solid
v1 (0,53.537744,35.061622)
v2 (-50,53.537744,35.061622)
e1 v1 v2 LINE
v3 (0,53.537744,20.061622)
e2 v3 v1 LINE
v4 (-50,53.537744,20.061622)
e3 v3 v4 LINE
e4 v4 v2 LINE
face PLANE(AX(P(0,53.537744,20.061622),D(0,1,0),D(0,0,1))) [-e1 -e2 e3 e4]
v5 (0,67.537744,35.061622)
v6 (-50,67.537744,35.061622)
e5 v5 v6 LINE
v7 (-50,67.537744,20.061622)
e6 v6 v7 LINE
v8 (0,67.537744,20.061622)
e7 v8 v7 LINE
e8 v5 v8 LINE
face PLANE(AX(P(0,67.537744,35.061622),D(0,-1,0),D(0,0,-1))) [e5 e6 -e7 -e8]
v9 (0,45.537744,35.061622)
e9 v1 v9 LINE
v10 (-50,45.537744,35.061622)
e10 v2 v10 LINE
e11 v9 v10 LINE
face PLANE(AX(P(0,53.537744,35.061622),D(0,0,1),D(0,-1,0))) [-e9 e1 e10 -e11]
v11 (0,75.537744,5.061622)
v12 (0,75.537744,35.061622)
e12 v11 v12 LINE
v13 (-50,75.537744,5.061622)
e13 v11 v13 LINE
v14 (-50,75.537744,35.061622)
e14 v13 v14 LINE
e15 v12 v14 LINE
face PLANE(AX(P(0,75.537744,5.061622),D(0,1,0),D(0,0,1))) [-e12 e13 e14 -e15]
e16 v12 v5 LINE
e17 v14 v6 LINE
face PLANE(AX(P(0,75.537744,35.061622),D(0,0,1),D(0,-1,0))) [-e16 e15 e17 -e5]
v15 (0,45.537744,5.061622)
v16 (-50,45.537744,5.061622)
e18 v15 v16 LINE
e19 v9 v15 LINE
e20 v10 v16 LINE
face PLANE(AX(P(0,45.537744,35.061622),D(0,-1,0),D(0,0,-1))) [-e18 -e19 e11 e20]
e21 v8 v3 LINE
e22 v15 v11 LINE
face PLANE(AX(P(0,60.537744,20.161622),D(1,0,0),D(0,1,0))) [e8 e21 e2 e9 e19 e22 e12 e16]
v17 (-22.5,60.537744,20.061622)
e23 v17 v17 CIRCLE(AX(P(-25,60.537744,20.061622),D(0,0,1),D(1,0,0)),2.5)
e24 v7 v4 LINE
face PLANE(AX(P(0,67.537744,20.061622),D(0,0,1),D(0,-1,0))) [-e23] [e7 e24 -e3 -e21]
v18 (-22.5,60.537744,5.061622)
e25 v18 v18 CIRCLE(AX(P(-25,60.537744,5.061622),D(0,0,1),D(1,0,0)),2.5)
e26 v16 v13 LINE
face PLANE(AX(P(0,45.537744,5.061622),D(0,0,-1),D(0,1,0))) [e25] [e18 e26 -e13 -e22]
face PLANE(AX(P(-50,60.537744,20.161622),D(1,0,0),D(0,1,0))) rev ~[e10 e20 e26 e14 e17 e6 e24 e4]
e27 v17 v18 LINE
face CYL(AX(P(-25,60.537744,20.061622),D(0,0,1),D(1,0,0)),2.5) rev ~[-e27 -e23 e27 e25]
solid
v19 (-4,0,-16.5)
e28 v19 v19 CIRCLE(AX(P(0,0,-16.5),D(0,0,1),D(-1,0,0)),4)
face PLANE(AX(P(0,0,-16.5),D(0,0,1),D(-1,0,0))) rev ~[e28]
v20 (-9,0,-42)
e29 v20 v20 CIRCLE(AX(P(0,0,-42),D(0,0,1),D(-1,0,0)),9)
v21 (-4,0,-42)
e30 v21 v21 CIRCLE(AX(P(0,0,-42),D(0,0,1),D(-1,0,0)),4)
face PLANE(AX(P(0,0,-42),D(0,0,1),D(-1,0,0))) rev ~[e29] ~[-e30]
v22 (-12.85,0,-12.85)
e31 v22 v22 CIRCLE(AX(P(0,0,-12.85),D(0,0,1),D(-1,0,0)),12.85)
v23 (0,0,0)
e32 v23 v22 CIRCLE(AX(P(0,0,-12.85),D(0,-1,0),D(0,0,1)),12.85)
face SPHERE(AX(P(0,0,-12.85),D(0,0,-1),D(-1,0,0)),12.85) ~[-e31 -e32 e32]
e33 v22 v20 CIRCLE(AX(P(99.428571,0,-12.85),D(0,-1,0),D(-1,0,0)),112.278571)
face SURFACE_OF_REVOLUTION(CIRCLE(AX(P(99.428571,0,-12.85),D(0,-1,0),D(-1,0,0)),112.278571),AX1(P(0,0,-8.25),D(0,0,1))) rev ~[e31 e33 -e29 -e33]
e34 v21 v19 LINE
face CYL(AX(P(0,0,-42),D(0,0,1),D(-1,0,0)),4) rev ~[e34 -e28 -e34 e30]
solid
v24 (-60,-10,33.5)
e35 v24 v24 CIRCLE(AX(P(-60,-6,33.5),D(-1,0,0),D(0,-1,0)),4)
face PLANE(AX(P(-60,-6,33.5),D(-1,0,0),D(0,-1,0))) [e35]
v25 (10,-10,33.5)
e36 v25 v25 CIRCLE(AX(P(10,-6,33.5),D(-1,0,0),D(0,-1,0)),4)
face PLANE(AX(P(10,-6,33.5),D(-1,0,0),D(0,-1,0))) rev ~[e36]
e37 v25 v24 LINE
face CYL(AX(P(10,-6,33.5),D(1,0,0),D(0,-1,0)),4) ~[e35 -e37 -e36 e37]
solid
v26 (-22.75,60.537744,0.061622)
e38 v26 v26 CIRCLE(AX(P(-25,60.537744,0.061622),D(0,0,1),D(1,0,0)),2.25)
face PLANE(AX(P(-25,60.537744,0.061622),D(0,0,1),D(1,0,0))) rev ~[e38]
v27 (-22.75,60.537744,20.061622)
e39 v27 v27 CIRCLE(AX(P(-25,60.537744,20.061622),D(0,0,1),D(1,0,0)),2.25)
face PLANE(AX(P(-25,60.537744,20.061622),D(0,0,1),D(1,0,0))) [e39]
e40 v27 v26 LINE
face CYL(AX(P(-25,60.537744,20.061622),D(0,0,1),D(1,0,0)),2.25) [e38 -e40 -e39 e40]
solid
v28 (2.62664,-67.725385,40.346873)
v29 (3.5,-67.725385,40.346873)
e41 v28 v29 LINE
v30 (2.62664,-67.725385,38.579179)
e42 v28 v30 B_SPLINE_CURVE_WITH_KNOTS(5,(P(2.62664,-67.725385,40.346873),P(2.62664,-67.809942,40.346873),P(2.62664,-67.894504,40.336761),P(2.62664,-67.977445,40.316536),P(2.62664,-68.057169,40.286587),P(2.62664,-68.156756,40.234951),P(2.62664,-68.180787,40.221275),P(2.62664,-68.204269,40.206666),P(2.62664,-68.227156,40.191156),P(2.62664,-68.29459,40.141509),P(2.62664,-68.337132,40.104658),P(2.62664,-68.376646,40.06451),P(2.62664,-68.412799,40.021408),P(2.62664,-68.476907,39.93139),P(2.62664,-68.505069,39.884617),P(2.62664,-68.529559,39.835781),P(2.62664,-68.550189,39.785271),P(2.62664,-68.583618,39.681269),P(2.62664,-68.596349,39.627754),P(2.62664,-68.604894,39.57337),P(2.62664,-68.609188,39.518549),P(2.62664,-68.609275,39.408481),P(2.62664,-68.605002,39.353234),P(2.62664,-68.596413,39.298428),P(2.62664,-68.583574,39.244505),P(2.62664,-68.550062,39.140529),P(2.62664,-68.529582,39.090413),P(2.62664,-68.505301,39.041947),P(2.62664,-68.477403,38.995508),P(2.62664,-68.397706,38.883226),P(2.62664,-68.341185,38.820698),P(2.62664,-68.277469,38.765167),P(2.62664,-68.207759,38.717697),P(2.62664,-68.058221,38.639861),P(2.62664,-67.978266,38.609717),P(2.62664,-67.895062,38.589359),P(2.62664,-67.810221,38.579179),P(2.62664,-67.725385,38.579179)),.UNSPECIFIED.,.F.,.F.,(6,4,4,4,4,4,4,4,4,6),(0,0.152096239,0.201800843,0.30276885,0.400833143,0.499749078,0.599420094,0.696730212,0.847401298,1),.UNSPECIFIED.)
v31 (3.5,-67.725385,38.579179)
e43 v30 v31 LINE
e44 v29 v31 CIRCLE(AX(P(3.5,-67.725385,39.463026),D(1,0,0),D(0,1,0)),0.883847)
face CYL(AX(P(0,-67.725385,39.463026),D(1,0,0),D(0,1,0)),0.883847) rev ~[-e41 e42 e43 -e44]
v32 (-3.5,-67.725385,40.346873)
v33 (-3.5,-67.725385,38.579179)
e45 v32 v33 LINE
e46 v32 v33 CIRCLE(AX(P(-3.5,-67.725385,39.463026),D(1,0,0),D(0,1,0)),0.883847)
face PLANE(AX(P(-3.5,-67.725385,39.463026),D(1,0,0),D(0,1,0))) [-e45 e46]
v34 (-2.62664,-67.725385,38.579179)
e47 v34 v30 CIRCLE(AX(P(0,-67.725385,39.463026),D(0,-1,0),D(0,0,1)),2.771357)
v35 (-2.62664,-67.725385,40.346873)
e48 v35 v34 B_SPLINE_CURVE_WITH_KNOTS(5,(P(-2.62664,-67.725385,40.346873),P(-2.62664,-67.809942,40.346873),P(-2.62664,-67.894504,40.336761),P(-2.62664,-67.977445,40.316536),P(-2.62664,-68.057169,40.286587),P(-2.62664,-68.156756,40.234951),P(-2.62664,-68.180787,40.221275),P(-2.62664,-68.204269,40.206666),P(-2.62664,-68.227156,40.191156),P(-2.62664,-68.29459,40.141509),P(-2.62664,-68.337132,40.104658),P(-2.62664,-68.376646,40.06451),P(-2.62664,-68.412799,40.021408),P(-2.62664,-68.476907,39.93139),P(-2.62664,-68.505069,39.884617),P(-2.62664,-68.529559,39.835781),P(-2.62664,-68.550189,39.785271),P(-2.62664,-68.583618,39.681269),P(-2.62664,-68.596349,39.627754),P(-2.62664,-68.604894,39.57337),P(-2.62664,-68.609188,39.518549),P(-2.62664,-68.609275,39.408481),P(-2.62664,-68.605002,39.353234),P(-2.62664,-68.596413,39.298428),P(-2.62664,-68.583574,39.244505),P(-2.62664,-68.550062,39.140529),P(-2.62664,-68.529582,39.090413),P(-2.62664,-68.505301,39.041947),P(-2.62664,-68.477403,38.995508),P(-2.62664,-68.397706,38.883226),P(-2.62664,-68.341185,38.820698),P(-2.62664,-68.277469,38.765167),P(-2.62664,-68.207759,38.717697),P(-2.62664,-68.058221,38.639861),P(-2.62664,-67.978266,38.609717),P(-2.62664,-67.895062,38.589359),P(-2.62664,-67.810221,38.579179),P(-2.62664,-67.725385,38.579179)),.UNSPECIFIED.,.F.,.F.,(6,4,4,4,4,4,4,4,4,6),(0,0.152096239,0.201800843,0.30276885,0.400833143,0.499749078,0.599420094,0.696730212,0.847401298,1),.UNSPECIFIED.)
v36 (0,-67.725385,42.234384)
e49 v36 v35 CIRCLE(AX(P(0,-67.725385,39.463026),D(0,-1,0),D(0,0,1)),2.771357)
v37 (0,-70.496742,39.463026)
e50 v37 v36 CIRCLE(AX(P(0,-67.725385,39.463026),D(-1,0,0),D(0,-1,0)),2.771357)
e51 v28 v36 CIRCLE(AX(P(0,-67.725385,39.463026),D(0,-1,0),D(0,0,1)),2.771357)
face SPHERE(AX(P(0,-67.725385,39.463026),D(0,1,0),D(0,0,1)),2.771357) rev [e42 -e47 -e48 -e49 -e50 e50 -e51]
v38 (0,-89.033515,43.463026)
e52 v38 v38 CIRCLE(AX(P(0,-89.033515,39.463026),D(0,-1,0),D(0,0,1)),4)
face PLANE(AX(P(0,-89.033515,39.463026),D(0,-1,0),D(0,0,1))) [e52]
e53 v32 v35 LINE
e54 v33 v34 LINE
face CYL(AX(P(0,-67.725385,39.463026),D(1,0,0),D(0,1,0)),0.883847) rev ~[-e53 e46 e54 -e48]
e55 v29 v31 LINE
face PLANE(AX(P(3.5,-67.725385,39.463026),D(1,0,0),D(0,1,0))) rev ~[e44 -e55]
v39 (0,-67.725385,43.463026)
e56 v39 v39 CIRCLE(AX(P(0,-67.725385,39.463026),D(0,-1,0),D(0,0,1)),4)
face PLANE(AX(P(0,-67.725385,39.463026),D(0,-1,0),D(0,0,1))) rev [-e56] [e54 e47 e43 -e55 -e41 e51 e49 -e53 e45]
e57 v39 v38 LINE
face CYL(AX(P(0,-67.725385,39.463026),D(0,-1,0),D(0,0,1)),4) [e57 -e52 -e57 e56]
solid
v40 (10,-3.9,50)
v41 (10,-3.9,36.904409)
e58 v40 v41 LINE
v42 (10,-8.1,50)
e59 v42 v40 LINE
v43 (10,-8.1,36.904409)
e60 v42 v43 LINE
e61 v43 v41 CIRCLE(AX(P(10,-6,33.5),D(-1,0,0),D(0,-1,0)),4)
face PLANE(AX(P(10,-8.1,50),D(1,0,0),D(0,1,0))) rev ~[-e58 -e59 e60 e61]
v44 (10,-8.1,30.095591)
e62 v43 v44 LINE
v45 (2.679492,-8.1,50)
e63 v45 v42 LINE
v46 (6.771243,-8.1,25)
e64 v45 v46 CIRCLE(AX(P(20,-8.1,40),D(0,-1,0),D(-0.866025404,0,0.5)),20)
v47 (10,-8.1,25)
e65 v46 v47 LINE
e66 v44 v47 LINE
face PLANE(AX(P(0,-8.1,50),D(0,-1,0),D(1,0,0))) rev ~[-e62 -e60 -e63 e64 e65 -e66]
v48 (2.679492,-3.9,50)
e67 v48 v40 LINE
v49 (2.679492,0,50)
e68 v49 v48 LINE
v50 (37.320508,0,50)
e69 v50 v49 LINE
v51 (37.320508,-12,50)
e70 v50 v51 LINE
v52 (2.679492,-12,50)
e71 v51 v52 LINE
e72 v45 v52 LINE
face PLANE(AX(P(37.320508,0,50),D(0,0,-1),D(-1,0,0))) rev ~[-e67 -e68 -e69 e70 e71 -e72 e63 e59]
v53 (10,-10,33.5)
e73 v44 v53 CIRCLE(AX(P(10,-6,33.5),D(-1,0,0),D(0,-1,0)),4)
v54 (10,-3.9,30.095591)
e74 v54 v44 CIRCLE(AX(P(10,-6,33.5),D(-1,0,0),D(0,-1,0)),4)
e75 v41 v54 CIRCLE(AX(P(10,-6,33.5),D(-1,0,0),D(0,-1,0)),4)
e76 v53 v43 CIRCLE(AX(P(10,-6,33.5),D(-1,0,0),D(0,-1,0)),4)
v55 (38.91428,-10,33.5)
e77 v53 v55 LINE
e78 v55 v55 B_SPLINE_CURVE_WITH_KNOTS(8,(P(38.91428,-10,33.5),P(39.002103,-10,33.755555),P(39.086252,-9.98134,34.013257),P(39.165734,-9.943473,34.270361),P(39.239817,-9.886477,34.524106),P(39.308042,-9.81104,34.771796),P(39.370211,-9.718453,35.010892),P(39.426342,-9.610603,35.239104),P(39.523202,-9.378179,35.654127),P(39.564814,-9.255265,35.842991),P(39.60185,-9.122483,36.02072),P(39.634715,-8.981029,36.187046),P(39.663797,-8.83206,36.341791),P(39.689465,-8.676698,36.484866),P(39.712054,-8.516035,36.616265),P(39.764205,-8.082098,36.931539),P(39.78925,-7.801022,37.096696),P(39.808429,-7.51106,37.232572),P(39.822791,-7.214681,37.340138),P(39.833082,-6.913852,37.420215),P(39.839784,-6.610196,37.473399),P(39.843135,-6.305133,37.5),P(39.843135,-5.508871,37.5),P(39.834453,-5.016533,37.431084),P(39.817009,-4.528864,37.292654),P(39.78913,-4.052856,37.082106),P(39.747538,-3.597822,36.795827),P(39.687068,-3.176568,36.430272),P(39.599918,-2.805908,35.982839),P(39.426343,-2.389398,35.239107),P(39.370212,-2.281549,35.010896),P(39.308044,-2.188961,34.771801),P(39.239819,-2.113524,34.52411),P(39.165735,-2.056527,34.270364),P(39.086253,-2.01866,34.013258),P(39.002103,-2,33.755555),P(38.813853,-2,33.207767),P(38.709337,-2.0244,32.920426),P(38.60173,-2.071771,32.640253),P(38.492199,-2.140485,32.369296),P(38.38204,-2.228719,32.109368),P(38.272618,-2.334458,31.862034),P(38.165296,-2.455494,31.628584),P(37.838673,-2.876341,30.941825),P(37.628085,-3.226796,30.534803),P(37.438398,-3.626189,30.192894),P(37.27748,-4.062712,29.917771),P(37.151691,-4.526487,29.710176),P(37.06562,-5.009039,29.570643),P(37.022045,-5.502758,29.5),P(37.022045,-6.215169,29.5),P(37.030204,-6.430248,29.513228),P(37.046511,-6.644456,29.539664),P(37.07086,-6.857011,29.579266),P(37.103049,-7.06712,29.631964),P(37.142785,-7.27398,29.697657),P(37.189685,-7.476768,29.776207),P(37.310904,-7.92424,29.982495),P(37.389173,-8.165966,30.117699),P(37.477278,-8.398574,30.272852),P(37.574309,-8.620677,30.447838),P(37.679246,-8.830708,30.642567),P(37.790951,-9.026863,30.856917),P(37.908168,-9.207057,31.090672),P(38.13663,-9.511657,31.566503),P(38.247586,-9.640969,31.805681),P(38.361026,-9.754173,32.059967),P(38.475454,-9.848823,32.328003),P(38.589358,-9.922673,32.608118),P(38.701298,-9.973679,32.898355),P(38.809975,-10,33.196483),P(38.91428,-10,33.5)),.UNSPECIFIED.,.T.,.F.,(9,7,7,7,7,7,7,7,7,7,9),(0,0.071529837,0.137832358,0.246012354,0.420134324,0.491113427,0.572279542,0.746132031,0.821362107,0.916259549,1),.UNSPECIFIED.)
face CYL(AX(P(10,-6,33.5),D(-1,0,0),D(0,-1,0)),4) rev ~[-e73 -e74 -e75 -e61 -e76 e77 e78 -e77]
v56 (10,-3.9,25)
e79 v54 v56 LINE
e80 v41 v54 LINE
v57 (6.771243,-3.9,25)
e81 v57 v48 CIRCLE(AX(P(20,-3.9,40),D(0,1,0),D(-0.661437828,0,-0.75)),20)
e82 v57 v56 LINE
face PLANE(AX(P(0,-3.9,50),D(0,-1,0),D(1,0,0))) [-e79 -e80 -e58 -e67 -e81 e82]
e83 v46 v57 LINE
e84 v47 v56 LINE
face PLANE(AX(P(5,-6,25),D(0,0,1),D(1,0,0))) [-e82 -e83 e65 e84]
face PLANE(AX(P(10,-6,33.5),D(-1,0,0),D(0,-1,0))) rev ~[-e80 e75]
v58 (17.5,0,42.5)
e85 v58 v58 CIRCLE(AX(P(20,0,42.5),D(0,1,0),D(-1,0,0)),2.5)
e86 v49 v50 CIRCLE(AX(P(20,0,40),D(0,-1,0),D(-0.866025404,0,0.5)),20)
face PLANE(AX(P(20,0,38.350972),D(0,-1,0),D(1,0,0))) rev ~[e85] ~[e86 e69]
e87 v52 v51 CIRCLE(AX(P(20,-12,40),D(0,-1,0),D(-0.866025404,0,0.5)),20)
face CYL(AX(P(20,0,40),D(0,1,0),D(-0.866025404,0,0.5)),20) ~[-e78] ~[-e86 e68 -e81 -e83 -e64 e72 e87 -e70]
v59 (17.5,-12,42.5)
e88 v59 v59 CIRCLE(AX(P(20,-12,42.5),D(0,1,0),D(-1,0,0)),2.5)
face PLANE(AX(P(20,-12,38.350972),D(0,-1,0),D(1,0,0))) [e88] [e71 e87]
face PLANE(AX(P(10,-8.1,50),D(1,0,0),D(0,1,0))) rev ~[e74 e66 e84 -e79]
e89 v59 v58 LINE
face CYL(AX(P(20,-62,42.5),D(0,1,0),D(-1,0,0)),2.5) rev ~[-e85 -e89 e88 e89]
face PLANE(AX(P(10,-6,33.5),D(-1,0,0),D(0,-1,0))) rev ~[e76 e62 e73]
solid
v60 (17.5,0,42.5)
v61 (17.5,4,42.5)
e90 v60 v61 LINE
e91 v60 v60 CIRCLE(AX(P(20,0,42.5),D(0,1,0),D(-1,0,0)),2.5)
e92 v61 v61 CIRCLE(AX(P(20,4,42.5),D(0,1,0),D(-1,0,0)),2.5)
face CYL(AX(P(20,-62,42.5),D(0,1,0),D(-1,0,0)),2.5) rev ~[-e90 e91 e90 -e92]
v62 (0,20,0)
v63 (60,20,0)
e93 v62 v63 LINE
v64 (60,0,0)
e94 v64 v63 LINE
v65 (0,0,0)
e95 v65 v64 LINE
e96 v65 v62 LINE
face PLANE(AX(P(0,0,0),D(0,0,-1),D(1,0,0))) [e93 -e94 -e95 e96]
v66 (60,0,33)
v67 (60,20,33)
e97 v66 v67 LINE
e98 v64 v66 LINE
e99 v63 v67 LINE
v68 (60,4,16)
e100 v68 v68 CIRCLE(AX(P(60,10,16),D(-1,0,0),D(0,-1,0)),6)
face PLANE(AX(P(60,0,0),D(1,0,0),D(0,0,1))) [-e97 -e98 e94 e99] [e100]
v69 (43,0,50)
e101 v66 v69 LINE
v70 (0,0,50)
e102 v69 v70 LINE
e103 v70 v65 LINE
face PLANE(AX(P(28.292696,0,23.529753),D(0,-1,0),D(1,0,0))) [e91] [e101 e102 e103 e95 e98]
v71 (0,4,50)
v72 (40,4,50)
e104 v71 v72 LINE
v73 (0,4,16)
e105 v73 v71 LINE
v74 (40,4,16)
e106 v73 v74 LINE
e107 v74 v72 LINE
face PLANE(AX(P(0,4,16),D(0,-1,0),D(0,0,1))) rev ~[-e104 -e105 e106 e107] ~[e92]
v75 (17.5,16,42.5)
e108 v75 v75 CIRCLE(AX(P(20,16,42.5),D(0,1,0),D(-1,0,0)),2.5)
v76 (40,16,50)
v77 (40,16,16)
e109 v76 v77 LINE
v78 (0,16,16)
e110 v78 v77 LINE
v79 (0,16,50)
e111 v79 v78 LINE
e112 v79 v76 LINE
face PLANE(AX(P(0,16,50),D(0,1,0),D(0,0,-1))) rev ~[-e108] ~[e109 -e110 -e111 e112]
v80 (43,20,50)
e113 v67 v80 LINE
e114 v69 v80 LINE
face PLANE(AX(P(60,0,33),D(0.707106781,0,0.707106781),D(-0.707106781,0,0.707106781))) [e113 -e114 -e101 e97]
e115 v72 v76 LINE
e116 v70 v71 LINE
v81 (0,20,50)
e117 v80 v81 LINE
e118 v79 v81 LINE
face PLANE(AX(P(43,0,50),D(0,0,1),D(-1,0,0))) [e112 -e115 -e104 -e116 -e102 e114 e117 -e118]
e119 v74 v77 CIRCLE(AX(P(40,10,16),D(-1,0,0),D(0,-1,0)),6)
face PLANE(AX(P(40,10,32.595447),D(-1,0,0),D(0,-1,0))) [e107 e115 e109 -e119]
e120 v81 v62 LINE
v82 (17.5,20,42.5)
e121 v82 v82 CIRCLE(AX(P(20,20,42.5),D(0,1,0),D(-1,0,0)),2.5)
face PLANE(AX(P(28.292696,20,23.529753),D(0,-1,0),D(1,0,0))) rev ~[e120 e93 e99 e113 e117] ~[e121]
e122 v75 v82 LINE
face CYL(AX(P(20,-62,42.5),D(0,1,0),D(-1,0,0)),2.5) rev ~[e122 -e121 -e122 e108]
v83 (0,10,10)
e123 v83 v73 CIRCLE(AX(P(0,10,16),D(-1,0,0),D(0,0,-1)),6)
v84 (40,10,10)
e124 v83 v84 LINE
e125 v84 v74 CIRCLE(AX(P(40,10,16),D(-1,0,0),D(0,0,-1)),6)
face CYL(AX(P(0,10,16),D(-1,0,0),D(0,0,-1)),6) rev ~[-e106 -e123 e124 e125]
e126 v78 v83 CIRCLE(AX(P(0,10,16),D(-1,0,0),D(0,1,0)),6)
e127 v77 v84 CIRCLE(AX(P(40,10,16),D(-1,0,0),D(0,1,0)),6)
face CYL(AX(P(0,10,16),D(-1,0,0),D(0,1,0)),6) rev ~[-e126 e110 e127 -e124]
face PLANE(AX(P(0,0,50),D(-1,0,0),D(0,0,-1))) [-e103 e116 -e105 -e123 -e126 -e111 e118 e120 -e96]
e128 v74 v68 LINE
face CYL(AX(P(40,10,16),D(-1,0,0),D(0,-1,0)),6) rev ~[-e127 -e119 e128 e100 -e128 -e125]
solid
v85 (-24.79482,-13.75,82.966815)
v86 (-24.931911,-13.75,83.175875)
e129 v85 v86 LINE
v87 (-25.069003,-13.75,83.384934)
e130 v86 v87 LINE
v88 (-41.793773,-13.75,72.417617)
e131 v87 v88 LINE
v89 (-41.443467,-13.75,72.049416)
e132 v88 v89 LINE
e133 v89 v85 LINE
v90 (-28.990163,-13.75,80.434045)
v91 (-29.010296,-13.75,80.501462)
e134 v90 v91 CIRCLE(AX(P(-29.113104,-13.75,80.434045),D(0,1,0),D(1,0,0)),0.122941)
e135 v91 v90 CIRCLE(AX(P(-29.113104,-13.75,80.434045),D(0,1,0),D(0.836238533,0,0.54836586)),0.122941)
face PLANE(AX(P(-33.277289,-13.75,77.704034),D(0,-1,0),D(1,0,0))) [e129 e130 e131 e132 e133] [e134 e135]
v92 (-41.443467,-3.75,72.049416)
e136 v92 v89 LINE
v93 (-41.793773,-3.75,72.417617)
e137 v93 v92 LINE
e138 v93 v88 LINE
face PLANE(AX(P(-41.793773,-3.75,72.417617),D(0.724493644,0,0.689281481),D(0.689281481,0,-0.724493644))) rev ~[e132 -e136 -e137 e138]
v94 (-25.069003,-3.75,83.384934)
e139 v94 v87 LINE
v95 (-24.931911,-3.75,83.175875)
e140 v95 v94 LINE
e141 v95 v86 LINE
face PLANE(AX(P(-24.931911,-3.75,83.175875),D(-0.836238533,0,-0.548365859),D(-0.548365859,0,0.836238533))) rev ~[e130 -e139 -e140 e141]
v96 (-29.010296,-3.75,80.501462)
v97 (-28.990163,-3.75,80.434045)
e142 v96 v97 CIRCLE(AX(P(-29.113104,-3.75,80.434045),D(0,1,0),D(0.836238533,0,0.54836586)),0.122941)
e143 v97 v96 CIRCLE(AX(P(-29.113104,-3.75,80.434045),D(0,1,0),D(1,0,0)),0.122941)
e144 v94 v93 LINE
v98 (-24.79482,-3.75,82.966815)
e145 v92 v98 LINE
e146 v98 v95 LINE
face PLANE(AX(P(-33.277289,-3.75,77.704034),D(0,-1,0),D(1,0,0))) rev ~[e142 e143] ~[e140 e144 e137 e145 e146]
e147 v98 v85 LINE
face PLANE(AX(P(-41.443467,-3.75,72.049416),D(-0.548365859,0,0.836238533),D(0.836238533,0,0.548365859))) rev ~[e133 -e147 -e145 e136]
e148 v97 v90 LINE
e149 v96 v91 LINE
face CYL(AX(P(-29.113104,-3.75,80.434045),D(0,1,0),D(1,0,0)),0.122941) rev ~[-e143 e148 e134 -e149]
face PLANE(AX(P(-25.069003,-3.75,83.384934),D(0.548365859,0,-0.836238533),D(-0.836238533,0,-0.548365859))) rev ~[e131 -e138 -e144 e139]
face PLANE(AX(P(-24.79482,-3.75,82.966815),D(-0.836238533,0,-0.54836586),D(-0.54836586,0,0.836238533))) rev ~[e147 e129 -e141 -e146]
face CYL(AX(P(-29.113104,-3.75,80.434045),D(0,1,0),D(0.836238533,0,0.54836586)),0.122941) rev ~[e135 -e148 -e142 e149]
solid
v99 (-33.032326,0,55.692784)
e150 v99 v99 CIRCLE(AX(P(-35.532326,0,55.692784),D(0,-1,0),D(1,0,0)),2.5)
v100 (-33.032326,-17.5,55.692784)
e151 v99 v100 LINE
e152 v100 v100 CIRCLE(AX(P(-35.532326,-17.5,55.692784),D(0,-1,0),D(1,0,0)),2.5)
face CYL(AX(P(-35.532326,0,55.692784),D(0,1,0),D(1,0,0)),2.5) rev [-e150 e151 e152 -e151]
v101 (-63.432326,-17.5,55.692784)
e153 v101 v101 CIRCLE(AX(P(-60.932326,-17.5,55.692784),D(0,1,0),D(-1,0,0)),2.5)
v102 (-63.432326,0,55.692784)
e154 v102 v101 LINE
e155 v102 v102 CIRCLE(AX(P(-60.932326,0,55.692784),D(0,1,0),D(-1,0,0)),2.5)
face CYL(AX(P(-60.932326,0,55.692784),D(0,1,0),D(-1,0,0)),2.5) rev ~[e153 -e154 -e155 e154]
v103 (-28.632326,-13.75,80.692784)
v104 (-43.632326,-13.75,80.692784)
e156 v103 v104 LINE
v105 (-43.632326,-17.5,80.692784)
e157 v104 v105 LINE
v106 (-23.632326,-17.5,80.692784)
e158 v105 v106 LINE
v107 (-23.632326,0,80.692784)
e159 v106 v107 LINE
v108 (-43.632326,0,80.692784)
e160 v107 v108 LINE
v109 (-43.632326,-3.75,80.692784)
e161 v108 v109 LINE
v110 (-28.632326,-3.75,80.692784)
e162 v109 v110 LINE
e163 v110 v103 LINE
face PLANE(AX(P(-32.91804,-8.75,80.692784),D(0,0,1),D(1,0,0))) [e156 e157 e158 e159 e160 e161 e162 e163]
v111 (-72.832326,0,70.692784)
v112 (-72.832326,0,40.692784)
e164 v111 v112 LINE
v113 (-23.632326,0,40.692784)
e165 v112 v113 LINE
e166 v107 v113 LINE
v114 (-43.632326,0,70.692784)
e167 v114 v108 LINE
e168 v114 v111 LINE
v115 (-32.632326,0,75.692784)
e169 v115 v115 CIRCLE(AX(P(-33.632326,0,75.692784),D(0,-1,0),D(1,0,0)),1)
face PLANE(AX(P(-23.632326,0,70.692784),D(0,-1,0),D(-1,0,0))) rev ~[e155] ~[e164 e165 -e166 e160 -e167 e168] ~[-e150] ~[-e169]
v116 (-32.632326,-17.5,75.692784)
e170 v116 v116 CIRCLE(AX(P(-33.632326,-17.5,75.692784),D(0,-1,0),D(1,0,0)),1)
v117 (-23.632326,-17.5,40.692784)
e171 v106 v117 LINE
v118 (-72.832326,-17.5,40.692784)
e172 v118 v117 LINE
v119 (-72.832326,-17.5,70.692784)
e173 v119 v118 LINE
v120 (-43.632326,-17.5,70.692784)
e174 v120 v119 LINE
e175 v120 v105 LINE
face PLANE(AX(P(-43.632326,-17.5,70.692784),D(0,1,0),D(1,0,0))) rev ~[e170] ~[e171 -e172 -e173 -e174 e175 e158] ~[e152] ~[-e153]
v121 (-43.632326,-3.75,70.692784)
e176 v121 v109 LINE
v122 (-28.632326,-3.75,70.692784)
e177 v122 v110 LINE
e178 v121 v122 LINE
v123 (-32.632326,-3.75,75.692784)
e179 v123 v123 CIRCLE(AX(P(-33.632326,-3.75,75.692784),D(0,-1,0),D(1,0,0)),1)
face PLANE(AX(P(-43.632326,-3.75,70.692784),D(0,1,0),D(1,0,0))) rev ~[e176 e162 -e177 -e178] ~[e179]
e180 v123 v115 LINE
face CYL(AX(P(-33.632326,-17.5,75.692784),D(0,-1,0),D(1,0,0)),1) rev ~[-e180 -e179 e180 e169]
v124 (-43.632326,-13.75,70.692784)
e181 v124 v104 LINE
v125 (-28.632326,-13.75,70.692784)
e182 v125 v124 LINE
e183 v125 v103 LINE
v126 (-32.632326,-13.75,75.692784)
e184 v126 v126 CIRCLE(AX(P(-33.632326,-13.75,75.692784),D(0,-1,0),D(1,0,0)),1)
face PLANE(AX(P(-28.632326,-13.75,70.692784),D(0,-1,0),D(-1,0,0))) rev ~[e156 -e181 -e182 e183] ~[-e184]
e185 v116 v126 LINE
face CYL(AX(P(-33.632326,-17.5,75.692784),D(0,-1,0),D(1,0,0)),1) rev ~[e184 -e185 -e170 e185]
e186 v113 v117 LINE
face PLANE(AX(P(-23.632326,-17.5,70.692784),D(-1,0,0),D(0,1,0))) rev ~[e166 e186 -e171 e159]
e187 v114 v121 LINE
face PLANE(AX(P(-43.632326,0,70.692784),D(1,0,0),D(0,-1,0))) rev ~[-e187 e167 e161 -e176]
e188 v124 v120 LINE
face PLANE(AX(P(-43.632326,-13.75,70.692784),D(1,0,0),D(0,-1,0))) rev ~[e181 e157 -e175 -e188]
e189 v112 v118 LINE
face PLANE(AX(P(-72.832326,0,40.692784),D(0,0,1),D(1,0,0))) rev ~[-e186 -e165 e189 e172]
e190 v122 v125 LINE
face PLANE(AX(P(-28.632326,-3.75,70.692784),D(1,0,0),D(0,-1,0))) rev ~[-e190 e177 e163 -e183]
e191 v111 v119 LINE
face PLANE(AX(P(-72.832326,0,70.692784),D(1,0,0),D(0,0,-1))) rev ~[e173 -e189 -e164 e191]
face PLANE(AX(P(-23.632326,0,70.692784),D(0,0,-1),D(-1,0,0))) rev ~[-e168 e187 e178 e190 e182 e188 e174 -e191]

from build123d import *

# Parameters (mm, degrees)
F1_DEPTH   = 20
F3_DEPTH   = 40
F5_DEPTH   = 25
F7_DEPTH   = 12
F9_D       = 5
F9_DEPTH   = 50
F9_TIP     = 1.5021515476
F9_2_D     = 5
F9_2_DEPTH = 50
F9_2_TIP   = 1.5021515476
F10_W      = 10
F10_H      = 4.2
F11_DEPTH  = 25
F12_R      = 4
F13_DEPTH  = 30
F14_R      = 4
F15_DEPTH  = 70
F18_R      = 2.5
F19_DEPTH  = 17.5
F21_DEPTH  = 10
F22_R      = 1
F23_DEPTH  = 25
F25_DEPTH  = 10
F28_R      = 0.8838468807
F29_DEPTH  = 3.5
F31_DEPTH  = 50
F32_R      = 2.5
F33_DEPTH  = 25
F34_R      = 2.25
F35_DEPTH  = 20


with BuildPart() as f1:
    # F0 (on Front) → F1 (new body)
    with BuildSketch(Plane.XZ):
        Polygon((0, 50), (0, 0), (60, 0), (60, 33), (43, 50), align=None)
    extrude(amount=-F1_DEPTH)

    # F2 (on face) → F3 (cut)
    with BuildSketch(Plane(origin=(0, 0, 0), x_dir=(0, -1, 0), z_dir=(-1, 0, 0))):
        with BuildLine():
            Line((-4, 50), (-16, 50))
            Line((-16, 50), (-16, 16))
            ThreePointArc((-16, 16), (-10, 22), (-4, 16))
            Line((-4, 16), (-4, 50))
        make_face()
        with BuildLine():
            ThreePointArc((-4, 16), (-10, 22), (-16, 16))
            Line((-16, 16), (-10, 16))
            Line((-10, 16), (-4, 16))
        make_face()
        with BuildLine():
            Line((-10, 16), (-16, 16))
            ThreePointArc((-16, 16), (-14.2426406871, 11.7573593129), (-10, 10))
            Line((-10, 10), (-10, 16))
        make_face()
        with BuildLine():
            ThreePointArc((-10, 10), (-5.7573593129, 11.7573593129), (-4, 16))
            Line((-4, 16), (-10, 16))
            Line((-10, 16), (-10, 10))
        make_face()
    extrude(amount=-F3_DEPTH, mode=Mode.SUBTRACT)

    # F4 (on face) → F5 (cut)
    with BuildSketch(Plane(origin=(40, 0, 0), x_dir=(0, -1, 0), z_dir=(-1, 0, 0))):
        with BuildLine():
            ThreePointArc((-16, 16), (-10, 10), (-4, 16))
            ThreePointArc((-4, 16), (-10, 22), (-16, 16))
        make_face()
    extrude(amount=-F5_DEPTH, mode=Mode.SUBTRACT)

    # F9
    with Locations(Plane.XZ.offset(12)):
        with Locations((20, 42.5)):
            Hole(F9_D / 2, depth=F9_DEPTH)
            with Locations((0, 0, -(F9_DEPTH + F9_TIP / 2))):  # 118° drill point
                Cone(0, F9_D / 2, F9_TIP, mode=Mode.SUBTRACT)


with BuildPart() as f7:
    # F6 (on Front) → F7 (new body)
    with BuildSketch(Plane.XZ):
        with BuildLine():
            Line((37.3205080757, 50), (2.6794919243, 50))
            ThreePointArc((2.6794919243, 50), (20, 20), (37.3205080757, 50))
        make_face()
    extrude(amount=F7_DEPTH)

    # F9#2
    with Locations(Plane.XZ.offset(12)):
        with Locations((20, 42.5)):
            Hole(F9_2_D / 2, depth=F9_2_DEPTH)
            with Locations((0, 0, -(F9_2_DEPTH + F9_2_TIP / 2))):  # 118° drill point
                Cone(0, F9_2_D / 2, F9_2_TIP, mode=Mode.SUBTRACT)

    # F10 (on face) → F11 (cut)
    with BuildSketch(Plane.XY.offset(50)):
        with Locations((5, -6)):
            Rectangle(F10_W, F10_H)
    extrude(amount=-F11_DEPTH, mode=Mode.SUBTRACT)

    # F12 (on face) → F13 (cut)
    with BuildSketch(Plane(origin=(10, 0, 0), x_dir=(0, -1, 0), z_dir=(-1, 0, 0))):
        with Locations((6, 33.5)):
            Circle(F12_R)
    extrude(amount=-F13_DEPTH, mode=Mode.SUBTRACT)


with BuildPart() as f15:
    # F14 (on face) → F15 (new body)
    with BuildSketch(Plane(origin=(10, 0, 0), x_dir=(0, -1, 0), z_dir=(-1, 0, 0))):
        with Locations((6, 33.5)):
            Circle(F14_R)
    extrude(amount=F15_DEPTH)


with BuildPart() as f17:
    # F16 (on Front) → F17 (revolve)
    with BuildSketch(Plane.XZ):
        with BuildLine():
            Line((-4, -16.5), (0, -16.5))
            Line((0, -16.5), (0, -12.85))
            Line((0, -12.85), (-12.85, -12.85))
            ThreePointArc((-12.85, -12.85), (-11.8833387699, -27.5515730451), (-9, -42))
            Line((-9, -42), (-4, -42))
            Line((-4, -42), (-4, -16.5))
        make_face()
        with BuildLine():
            Line((-12.85, -12.85), (0, -12.85))
            Line((0, -12.85), (0, 0))
            ThreePointArc((0, 0), (-9.0863221382, -3.7636778618), (-12.85, -12.85))
        make_face()
    revolve(axis=Axis((0, 0, -8.25), (0, 0, 1)))


with BuildPart() as f19:
    # F18 (on Front) → F19 (new body)
    with BuildSketch(Plane.XZ):
        Polygon((-23.6323255062, 55.6927844882), (-23.6323255062, 70.6927844882), (-72.8323255062, 70.6927844882), (-72.8323255062, 55.6927844882), (-72.8323255062, 40.6927844882), (-23.6323255062, 40.6927844882), align=None)
        with BuildLine():
            ThreePointArc((-58.4323255062, 55.6927844882), (-60.9323255062, 53.1927844882), (-63.4323255062, 55.6927844882))
            ThreePointArc((-63.4323255062, 55.6927844882), (-60.9323255062, 58.1927844882), (-58.4323255062, 55.6927844882))
        make_face(mode=Mode.SUBTRACT)
        with Locations((-35.5323255062, 55.6927844882)):
            Circle(F18_R, mode=Mode.SUBTRACT)
    extrude(amount=F19_DEPTH)

    # F20 (on face) → F21 (join)
    with BuildSketch(Plane.XY.offset(70.6927844882)):
        Polygon((-23.6323255062, 0), (-43.6323255062, 0), (-43.6323255062, -3.75), (-28.6323255062, -3.75), (-28.6323255062, -13.75), (-43.6323255062, -13.75), (-43.6323255062, -17.5), (-23.6323255062, -17.5), align=None)
    extrude(amount=F21_DEPTH)

    # F22 (on face) → F23 (cut)
    with BuildSketch(Plane.XZ.offset(17.5)):
        with Locations((-33.6323255062, 75.6927844882)):
            Circle(F22_R)
    extrude(amount=-F23_DEPTH, mode=Mode.SUBTRACT)


with BuildPart() as f25:
    # F24 (on face) → F25 (new body)
    with BuildSketch(Plane.XZ.offset(3.75)):
        Polygon((-25.0690026892, 83.3849342133), (-41.7937733512, 72.4176170252), (-41.4434674402, 72.0494156259), (-24.7948197595, 82.9668149468), (-24.9319112244, 83.17587458), align=None)
        with BuildLine():
            ThreePointArc((-28.9901627286, 80.434045283), (-29.2309043161, 80.3988659036), (-29.0102957535, 80.5014620186))
            ThreePointArc((-29.0102957535, 80.5014620186), (-28.9953034637, 80.4692246624), (-28.9901627286, 80.434045283))
        make_face(mode=Mode.SUBTRACT)
    extrude(amount=F25_DEPTH)


with BuildPart() as f27:
    # F26 (on Right) → F27 (revolve)
    with BuildSketch(Plane.YZ):
        with BuildLine():
            ThreePointArc((-70.4967417681, 39.4630262688), (-69.6850300276, 41.4226717615), (-67.7253845349, 42.234383502))
            Line((-67.7253845349, 42.234383502), (-67.7253845349, 43.4630262688))
            Line((-67.7253845349, 43.4630262688), (-89.0335151806, 43.4630262688))
            Line((-89.0335151806, 43.4630262688), (-89.0335151806, 39.4630262688))
            Line((-89.0335151806, 39.4630262688), (-70.4967417681, 39.4630262688))
        make_face()
    revolve(axis=Axis((0, -78.3794498578, 39.4630262688), (0, -1, 0)))

    # F28 (on face) → F29 (cut, symmetric)
    with BuildSketch(Plane.YZ):
        with Locations((-67.7253845349, 39.4630262688)):
            Circle(F28_R)
    extrude(amount=F29_DEPTH, both=True, mode=Mode.SUBTRACT)


with BuildPart() as f31:
    # F30 (on Right) → F31 (new body)
    with BuildSketch(Plane.YZ):
        Polygon((45.537743755, 35.0616219081), (45.537743755, 5.0616219081), (75.537743755, 5.0616219081), (75.537743755, 35.0616219081), (67.537743755, 35.0616219081), (67.537743755, 20.0616219081), (53.537743755, 20.0616219081), (53.537743755, 35.0616219081), align=None)
    extrude(amount=-F31_DEPTH)

    # F32 (on face) → F33 (cut)
    with BuildSketch(Plane.XY.offset(20.0616219081)):
        with Locations((-25, 60.537743755)):
            Circle(F32_R)
    extrude(amount=-F33_DEPTH, mode=Mode.SUBTRACT)


with BuildPart() as f35:
    # F34 (on face) → F35 (new body)
    with BuildSketch(Plane.XY.offset(20.0616219081)):
        with Locations((-25, 60.537743755)):
            Circle(F34_R)
    extrude(amount=-F35_DEPTH)


solid = Compound([f1.part, f7.part, f15.part, f17.part, f19.part, f25.part, f27.part, f31.part, f35.part])
